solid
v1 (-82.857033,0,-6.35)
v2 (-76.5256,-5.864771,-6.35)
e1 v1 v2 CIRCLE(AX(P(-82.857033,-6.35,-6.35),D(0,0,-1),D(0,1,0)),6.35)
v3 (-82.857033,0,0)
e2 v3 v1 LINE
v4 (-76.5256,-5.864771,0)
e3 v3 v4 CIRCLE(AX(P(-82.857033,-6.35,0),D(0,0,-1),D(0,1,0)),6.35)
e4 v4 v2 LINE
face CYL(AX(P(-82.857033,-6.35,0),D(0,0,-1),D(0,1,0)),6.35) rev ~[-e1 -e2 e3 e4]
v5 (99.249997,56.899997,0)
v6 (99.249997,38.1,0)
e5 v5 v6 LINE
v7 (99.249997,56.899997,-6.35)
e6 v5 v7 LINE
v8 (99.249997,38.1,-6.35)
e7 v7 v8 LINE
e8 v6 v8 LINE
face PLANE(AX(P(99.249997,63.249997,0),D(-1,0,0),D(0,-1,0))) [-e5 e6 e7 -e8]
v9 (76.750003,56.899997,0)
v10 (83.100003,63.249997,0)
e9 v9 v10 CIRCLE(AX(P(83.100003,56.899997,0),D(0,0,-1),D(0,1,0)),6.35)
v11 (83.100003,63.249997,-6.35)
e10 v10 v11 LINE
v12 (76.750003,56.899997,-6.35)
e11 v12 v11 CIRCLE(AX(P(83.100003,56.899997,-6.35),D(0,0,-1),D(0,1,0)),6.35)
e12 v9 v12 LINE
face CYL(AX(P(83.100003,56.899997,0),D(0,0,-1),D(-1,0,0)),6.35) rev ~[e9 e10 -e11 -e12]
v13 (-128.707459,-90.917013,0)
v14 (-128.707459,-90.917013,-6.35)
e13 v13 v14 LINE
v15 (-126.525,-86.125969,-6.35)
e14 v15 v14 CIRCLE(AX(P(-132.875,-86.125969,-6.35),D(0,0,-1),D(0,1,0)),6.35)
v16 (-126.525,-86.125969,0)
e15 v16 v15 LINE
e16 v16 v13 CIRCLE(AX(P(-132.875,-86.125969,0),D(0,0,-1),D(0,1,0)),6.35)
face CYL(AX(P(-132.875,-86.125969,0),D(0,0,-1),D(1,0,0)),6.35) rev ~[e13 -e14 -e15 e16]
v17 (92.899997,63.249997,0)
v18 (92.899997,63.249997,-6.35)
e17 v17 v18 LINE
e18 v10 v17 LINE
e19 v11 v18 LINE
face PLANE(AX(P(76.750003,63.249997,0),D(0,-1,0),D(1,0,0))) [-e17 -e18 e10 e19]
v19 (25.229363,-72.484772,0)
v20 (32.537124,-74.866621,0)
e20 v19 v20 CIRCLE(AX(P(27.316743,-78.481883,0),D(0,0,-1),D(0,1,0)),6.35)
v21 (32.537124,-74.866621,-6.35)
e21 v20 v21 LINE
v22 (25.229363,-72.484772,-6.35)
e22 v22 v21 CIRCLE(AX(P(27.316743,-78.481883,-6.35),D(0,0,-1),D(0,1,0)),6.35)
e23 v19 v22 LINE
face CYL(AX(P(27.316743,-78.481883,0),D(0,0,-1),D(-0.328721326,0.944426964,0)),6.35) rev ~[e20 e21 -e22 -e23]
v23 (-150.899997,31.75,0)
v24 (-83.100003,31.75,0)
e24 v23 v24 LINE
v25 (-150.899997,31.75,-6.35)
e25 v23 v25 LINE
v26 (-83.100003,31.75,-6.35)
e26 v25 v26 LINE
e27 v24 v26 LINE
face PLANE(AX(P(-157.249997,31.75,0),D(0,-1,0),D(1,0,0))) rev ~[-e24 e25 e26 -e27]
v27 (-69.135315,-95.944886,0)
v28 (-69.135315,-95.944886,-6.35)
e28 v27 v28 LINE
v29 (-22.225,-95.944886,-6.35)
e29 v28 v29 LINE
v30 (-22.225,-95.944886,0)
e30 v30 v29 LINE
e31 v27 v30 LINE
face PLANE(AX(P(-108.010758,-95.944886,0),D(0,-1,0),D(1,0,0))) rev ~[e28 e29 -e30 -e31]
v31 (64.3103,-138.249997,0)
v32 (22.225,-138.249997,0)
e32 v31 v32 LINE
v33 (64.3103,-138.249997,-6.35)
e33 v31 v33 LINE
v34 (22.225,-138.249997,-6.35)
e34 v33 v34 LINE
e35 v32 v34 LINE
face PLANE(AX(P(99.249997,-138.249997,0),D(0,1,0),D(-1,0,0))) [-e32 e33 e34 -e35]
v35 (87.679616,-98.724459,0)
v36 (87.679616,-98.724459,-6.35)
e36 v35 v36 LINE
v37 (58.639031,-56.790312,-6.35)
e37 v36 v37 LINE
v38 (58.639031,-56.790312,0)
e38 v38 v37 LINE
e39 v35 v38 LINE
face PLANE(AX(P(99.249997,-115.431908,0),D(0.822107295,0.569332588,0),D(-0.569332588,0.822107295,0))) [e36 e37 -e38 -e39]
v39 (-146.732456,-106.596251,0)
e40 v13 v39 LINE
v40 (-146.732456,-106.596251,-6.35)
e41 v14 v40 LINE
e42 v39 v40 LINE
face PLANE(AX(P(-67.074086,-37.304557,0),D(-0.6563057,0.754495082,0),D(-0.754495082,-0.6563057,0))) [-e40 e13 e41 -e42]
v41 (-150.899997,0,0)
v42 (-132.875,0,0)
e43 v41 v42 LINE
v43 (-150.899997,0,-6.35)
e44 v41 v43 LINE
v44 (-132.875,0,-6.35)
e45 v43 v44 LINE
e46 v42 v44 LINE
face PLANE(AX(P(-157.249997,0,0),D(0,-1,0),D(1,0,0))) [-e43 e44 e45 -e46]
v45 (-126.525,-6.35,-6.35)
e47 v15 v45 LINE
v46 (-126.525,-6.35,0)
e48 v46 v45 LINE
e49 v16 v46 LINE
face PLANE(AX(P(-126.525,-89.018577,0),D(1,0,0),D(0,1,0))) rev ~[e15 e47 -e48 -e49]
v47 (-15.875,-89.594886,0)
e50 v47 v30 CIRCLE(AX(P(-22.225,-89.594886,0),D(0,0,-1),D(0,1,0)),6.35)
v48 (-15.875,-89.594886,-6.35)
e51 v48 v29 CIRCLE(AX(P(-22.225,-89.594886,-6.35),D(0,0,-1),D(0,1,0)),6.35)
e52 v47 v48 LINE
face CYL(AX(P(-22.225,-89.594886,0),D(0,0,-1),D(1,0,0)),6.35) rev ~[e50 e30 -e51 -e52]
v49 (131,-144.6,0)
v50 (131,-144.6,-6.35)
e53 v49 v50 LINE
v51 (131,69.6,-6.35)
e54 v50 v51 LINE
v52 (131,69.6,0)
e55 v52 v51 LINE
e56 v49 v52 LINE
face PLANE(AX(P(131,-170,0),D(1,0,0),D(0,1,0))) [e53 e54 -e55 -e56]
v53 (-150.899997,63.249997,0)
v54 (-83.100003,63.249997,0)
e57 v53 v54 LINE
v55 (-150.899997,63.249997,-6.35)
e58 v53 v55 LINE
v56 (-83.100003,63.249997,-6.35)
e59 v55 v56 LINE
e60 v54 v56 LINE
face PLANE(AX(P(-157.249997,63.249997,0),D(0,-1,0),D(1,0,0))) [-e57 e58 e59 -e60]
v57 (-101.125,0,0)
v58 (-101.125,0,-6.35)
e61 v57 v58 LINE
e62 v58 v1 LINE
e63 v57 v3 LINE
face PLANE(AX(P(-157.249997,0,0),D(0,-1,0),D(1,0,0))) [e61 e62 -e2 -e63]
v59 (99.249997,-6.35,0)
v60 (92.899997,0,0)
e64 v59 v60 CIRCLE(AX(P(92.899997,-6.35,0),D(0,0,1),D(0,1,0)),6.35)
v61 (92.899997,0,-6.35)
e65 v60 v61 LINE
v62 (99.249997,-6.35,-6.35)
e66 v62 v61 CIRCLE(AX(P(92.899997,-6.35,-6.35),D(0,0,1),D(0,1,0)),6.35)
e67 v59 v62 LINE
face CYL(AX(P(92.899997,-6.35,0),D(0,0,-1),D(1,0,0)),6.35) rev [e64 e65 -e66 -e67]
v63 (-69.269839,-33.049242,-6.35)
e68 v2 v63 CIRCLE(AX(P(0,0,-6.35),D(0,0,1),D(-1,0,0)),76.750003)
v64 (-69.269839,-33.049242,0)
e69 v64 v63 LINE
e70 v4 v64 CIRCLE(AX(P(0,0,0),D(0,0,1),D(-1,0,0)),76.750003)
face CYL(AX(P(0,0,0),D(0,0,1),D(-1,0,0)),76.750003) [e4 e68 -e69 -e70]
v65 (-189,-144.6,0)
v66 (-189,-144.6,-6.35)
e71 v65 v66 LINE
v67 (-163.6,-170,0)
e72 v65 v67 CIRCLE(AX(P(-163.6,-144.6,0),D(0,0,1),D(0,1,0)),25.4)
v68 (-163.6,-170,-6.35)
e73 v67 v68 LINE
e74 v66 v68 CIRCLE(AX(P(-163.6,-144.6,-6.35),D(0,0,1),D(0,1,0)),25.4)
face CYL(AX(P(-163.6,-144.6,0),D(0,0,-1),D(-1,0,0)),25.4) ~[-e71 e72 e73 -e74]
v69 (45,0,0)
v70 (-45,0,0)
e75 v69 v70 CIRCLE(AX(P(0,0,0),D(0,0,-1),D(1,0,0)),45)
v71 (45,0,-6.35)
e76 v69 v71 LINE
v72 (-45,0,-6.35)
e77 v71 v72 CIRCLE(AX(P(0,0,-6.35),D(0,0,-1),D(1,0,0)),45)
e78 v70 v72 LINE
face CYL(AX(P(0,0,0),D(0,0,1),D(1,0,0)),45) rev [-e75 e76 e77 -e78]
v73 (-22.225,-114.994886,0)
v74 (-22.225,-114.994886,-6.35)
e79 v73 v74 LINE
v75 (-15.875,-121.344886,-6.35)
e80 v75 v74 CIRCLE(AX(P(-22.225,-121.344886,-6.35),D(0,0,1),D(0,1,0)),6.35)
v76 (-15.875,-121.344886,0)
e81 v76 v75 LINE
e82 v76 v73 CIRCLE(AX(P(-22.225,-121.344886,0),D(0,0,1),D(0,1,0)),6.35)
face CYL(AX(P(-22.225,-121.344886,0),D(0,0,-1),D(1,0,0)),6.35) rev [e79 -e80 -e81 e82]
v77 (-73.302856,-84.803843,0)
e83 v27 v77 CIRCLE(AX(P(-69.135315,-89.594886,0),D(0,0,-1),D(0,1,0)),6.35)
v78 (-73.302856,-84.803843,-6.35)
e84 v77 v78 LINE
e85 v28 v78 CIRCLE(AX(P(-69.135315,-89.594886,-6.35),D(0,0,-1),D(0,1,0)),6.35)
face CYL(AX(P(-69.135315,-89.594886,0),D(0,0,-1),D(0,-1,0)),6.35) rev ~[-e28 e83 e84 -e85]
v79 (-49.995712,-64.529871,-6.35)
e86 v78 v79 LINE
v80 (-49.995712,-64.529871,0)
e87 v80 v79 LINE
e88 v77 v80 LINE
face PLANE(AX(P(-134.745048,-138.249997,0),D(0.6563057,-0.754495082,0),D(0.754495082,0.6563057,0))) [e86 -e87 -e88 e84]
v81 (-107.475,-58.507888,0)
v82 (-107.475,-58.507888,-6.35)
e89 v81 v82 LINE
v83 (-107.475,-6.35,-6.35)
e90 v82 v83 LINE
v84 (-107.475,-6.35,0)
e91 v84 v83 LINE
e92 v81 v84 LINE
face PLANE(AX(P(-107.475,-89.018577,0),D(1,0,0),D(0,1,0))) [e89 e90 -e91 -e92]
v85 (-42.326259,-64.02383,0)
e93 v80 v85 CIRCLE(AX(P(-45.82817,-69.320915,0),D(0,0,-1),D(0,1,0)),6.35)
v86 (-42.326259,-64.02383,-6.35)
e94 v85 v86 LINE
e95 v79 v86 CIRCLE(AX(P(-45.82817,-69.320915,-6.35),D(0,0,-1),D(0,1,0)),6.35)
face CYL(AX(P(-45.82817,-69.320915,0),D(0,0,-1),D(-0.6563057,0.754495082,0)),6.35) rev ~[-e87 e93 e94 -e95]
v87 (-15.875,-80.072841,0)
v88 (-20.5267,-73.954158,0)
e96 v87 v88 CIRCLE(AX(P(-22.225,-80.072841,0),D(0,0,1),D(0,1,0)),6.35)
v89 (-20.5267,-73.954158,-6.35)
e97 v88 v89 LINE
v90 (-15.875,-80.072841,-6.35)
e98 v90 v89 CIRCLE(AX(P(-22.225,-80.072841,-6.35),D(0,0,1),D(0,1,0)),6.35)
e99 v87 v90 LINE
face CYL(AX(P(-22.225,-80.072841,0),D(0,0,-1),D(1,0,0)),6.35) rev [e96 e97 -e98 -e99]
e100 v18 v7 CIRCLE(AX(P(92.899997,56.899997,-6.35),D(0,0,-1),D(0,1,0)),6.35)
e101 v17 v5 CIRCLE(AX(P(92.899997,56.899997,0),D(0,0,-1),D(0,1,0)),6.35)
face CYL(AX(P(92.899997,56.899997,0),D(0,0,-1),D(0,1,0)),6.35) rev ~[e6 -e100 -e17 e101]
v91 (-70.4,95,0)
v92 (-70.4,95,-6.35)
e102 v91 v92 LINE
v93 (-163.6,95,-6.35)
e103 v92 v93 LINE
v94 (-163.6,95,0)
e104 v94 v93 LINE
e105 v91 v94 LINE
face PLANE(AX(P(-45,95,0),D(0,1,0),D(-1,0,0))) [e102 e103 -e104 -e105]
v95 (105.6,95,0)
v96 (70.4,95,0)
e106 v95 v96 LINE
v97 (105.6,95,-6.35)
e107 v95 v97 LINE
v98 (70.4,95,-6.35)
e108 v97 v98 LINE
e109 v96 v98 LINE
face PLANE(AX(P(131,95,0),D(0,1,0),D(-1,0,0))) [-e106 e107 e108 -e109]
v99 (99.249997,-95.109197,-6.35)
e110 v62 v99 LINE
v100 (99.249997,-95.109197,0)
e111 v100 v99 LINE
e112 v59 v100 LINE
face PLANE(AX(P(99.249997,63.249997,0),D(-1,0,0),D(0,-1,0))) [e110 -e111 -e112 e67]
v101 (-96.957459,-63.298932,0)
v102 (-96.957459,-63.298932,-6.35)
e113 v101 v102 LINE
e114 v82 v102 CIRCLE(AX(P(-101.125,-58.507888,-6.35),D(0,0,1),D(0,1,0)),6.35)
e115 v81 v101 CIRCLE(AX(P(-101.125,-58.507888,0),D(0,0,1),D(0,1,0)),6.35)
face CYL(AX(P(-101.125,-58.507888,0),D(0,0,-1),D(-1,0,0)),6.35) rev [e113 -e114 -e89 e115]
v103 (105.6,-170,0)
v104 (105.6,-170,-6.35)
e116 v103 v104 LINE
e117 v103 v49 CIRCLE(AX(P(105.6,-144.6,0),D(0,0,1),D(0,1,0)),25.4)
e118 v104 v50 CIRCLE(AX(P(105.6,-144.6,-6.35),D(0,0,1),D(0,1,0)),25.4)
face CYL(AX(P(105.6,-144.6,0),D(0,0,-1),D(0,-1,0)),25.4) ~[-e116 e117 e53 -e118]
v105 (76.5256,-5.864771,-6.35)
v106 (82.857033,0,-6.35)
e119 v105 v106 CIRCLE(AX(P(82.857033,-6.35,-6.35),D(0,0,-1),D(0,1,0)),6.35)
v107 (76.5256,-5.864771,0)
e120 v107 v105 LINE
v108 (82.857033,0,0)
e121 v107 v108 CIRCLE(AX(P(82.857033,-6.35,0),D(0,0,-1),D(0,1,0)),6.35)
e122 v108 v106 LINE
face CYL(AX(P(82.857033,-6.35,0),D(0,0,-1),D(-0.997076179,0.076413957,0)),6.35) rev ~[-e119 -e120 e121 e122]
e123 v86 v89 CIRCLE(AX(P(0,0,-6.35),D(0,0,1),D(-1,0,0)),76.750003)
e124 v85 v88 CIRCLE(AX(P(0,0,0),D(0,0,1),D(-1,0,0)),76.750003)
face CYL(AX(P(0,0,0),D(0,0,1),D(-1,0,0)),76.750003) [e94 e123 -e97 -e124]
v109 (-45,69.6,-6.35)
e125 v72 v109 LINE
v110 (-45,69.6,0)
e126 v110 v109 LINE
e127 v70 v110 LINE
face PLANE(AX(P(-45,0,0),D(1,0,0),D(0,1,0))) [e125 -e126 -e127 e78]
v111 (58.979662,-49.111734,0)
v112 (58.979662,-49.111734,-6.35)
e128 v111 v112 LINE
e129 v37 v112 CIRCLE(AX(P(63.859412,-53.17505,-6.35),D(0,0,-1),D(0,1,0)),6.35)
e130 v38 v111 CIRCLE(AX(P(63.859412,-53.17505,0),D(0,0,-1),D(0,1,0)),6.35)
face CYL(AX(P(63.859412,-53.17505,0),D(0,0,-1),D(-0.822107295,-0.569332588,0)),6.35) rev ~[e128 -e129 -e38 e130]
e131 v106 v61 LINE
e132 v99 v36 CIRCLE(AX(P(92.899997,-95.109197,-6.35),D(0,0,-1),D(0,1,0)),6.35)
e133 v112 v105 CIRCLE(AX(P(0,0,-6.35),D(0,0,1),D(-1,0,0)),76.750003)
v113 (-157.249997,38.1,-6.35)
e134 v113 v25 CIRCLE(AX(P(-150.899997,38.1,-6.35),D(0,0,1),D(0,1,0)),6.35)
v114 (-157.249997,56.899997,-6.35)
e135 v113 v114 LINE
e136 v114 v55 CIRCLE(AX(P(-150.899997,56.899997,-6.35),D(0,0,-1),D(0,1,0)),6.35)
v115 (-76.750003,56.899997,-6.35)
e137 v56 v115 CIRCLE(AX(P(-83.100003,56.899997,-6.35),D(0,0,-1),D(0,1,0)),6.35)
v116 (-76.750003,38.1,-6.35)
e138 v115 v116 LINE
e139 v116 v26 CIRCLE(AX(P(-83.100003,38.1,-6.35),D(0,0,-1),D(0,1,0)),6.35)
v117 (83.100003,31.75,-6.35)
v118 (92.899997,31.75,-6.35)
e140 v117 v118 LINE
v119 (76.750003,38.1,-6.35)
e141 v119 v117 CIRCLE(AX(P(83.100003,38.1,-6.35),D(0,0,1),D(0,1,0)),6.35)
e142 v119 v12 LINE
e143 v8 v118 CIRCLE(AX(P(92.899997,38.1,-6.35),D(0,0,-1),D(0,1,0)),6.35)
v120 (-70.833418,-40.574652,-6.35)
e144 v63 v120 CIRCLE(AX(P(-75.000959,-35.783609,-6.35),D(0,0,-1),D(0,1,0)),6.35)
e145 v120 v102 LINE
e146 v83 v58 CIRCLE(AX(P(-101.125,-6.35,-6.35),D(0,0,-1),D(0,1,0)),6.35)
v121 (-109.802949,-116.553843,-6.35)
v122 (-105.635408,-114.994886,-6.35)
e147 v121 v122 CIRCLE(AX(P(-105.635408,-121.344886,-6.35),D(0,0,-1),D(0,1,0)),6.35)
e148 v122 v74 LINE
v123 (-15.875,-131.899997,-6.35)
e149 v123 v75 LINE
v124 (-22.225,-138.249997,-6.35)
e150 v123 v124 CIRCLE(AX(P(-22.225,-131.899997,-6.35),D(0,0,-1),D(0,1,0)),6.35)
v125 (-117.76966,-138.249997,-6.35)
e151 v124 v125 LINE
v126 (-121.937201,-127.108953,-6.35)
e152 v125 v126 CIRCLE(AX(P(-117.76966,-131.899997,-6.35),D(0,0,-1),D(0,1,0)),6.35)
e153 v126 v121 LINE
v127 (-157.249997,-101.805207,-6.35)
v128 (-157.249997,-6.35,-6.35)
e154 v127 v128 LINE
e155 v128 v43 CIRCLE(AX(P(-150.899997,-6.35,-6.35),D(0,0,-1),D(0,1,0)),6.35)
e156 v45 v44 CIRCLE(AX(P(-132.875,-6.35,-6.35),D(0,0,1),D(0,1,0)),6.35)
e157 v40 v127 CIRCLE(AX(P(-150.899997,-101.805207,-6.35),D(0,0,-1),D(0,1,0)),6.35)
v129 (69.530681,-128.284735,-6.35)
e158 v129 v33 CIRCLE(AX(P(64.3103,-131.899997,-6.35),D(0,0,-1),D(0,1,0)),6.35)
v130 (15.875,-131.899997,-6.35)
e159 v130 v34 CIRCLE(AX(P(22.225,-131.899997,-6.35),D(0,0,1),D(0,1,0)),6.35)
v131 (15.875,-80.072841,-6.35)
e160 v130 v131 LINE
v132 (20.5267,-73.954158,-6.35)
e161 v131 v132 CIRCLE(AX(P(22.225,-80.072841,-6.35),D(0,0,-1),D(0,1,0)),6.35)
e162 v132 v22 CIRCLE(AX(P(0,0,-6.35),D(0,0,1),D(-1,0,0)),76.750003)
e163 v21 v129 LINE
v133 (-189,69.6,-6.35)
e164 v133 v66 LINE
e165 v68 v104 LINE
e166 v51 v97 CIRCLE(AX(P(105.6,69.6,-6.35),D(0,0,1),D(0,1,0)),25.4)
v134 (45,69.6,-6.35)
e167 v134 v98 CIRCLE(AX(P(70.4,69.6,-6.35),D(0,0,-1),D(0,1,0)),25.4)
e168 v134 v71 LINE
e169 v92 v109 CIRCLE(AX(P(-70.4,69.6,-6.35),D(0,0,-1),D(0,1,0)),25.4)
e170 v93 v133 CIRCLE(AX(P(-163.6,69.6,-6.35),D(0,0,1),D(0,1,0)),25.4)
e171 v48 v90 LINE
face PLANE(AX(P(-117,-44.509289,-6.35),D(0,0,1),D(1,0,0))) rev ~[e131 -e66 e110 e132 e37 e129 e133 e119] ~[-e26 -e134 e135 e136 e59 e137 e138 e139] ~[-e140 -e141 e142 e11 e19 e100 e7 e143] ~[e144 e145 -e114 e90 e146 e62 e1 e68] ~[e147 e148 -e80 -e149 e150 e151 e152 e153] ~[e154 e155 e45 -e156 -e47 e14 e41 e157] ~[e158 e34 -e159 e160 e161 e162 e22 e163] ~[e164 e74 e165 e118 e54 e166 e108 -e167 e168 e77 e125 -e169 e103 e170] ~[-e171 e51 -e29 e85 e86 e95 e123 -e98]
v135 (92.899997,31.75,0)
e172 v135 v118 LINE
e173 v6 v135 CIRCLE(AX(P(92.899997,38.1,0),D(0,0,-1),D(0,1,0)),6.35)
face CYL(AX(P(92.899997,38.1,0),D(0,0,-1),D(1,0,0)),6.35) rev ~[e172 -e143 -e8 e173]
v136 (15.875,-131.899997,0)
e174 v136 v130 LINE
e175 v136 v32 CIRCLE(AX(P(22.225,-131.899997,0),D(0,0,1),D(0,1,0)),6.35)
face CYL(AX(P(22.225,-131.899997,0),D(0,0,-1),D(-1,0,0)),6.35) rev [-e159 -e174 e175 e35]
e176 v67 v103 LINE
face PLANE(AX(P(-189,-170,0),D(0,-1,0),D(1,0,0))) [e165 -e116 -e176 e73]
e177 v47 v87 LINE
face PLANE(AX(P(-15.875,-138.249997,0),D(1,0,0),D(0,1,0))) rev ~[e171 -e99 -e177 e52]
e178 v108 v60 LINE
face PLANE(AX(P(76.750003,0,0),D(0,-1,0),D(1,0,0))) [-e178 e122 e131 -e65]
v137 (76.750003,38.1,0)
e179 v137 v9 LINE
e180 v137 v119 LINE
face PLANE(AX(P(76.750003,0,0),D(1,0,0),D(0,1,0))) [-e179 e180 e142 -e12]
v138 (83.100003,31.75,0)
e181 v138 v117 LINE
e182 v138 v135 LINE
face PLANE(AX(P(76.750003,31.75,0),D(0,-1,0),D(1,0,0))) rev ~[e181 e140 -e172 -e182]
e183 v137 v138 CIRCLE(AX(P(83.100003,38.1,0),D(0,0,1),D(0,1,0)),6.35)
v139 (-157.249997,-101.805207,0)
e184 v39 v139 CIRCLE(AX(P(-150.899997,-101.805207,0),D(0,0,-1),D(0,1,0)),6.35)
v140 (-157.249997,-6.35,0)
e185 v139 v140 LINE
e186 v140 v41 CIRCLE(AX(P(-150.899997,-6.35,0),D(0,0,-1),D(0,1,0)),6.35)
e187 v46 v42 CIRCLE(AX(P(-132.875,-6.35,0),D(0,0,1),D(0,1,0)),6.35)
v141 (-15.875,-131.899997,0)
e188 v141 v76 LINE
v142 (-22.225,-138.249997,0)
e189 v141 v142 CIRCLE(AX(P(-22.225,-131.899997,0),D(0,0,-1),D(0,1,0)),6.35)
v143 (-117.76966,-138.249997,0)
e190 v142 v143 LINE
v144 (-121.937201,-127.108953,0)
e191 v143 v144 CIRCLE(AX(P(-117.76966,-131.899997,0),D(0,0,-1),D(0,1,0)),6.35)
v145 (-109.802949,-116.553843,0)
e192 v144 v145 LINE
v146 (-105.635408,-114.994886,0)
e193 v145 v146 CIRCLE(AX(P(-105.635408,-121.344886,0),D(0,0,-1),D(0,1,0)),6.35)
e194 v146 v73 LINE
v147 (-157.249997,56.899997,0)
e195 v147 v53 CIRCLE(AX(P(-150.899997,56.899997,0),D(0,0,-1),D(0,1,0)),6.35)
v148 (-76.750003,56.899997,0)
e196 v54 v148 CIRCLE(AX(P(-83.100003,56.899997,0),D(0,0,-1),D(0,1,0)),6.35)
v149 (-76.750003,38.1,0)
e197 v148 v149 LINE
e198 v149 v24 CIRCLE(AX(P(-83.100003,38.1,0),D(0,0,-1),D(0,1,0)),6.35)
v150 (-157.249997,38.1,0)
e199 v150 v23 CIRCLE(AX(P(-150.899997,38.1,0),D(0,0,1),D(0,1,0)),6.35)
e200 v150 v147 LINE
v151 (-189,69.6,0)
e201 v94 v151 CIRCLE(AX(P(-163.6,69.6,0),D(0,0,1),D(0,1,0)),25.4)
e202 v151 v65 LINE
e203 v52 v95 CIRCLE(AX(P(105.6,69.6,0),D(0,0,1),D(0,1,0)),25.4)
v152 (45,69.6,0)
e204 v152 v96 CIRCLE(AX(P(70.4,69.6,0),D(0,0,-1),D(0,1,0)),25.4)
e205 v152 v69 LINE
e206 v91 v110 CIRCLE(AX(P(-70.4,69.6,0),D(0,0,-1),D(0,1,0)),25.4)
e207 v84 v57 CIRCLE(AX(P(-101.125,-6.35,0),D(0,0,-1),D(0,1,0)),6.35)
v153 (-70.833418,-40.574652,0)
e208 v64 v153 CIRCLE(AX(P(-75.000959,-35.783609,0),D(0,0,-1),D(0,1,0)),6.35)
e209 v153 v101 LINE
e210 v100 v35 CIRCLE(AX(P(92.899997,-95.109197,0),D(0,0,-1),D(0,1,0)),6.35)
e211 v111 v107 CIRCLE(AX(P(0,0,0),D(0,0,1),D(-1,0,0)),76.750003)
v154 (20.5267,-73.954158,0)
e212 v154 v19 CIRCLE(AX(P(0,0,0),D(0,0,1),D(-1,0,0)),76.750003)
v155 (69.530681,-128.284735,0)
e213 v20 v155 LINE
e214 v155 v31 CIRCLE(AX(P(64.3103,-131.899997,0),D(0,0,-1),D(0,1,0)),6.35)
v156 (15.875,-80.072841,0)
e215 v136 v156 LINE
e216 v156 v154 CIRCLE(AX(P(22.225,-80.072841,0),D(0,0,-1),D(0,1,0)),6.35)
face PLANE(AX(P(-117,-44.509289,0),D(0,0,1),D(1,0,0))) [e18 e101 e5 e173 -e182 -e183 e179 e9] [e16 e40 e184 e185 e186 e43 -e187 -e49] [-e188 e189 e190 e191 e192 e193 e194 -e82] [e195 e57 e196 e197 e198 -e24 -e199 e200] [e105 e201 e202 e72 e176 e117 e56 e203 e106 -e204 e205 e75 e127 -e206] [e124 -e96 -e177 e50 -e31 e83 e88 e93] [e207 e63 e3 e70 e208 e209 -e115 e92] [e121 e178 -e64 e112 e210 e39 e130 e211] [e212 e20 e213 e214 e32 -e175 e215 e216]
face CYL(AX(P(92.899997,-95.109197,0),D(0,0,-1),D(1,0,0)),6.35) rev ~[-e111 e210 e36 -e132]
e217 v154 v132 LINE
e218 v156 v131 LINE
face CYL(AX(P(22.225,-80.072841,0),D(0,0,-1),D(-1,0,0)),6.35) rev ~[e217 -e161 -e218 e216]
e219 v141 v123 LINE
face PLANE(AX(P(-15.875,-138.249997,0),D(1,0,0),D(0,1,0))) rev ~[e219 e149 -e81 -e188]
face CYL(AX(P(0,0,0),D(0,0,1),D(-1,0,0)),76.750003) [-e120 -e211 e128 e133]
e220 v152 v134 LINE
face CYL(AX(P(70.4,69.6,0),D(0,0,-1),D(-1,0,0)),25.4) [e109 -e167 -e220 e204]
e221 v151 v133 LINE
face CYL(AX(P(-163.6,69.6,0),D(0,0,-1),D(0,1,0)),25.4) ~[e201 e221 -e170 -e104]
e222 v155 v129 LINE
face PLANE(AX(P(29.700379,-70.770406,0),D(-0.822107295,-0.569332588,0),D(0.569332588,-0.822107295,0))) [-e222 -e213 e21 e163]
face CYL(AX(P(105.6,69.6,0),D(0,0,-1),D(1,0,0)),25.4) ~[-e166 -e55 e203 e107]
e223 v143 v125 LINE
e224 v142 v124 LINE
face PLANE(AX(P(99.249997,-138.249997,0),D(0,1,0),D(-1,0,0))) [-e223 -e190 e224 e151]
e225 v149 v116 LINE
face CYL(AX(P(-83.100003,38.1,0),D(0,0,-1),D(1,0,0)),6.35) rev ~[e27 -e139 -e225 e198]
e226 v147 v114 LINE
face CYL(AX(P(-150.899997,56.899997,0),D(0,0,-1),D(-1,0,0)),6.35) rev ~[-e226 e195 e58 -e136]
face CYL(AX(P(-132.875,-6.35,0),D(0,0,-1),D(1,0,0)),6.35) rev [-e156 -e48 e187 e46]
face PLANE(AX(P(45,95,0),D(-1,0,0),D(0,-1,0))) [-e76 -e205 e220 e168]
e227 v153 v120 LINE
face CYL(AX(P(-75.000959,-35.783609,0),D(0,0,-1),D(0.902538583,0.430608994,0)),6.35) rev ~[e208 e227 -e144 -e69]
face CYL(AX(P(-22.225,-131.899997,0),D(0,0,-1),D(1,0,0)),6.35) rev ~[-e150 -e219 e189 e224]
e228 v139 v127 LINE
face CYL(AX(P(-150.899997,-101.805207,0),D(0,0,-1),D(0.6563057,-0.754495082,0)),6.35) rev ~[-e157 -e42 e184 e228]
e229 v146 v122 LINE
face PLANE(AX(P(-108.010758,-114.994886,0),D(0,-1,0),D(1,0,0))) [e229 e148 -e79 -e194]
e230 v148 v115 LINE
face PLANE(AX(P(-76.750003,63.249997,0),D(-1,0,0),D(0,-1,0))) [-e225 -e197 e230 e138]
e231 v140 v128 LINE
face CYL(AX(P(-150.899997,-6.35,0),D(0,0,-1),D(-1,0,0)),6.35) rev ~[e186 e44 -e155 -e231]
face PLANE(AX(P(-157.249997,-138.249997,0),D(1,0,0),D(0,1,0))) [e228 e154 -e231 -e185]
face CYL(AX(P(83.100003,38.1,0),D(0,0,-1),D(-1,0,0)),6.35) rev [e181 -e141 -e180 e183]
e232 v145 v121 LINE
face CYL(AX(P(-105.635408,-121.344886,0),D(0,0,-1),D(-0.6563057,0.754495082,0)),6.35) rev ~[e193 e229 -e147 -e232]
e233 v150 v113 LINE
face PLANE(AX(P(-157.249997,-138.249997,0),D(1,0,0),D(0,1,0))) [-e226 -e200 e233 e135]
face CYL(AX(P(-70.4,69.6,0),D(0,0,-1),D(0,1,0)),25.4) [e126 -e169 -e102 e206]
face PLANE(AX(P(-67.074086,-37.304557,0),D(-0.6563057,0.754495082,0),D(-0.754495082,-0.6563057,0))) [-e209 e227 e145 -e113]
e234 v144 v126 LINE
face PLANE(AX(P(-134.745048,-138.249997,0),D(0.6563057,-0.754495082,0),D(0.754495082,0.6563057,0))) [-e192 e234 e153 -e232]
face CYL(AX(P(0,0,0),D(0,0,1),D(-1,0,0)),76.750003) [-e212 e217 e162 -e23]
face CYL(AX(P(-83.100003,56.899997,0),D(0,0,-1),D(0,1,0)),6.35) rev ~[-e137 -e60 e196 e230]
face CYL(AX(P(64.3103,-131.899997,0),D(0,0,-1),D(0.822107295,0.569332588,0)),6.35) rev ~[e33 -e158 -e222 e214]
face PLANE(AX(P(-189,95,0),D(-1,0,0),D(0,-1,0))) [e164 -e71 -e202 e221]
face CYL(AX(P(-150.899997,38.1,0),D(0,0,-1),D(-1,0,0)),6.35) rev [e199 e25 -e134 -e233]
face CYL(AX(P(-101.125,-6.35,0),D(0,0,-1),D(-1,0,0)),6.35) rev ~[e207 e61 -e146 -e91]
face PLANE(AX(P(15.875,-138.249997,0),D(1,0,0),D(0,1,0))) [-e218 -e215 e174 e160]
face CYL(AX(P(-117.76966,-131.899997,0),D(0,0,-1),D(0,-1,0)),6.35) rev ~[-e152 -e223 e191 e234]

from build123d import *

# Parameters (mm, degrees)
F1_DEPTH = 6.35
F2_W     = 31.75
F2_H     = 63.1597361455
F2_W_2   = 80.4999943972
F2_H_2   = 31.75
F2_W_3   = 22.4999943972
F3_DEPTH = 6.35
F4_W     = 19.05
F4_H     = 89.0185771326
F4_W_2   = 92.1357582898
F4_H_2   = 19.05
F5_DEPTH = 6.35
F6_R     = 25.4
F7_R     = 6.35


with BuildPart() as f1:
    # F0 (on Top) → F1 (new body)
    with BuildSketch(Plane.XY):
        with BuildLine():
            Line((-45, 95), (-189, 95))
            Line((-189, 95), (-189, -170))
            Line((-189, -170), (131, -170))
            Line((131, -170), (131, 95))
            Line((131, 95), (45, 95))
            Line((45, 95), (45, 0))
            ThreePointArc((45, 0), (0, -45), (-45, 0))
            Line((-45, 0), (-45, 95))
        make_face()
        with BuildLine():
            Line((-76.7500028014, 63.2499971986), (-76.7500028014, 0))
            ThreePointArc((-76.7500028014, 0), (0, -76.7500028014), (76.7500028014, 0))
            Line((76.7500028014, 0), (76.7500028014, 63.2499971986))
            Line((76.7500028014, 63.2499971986), (99.2499971986, 63.2499971986))
            Line((99.2499971986, 63.2499971986), (99.2499971986, -138.2499971986))
            Line((99.2499971986, -138.2499971986), (-157.2499971986, -138.2499971986))
            Line((-157.2499971986, -138.2499971986), (-157.2499971986, 63.2499971986))
            Line((-157.2499971986, 63.2499971986), (-76.7500028014, 63.2499971986))
        make_face(mode=Mode.SUBTRACT)
    extrude(amount=-F1_DEPTH)

    # F2 (on face) → F3 (join)
    with BuildSketch(Plane.XY):
        with Locations((0, -106.6701291258)):
            Rectangle(F2_W, F2_H)
        with Locations((-117, 15.875)):
            Rectangle(F2_W_2, F2_H_2)
        with Locations((88, 15.875)):
            Rectangle(F2_W_3, F2_H_2)
        Polygon((-46.2363796826, -61.2597757412), (-67.0740856459, -37.3045568904), (-157.2499971986, -115.7450479419), (-157.2499971986, -138.2499971986), (-134.7450479419, -138.2499971986), align=None)
        Polygon((55.8022859826, -52.6940965302), (29.7003793774, -70.7704062081), (76.4319075424, -138.2499971986), (99.2499971986, -138.2499971986), (99.2499971986, -115.4319075424), align=None)
    extrude(amount=-F3_DEPTH)

    # F4 (on face) → F5 (join)
    with BuildSketch(Plane.XY):
        with Locations((-117, -44.5092885663)):
            Rectangle(F4_W, F4_H)
        with Locations((-61.9428791449, -105.4698864699)):
            Rectangle(F4_W_2, F4_H_2)
    extrude(amount=-F5_DEPTH)

    # F6
    f6_edges = [f1.edges().sort_by_distance(p)[0] for p in [
        (-189, 95, -3.175),
        (-189, -170, -3.175),
        (131, -170, -3.175),
        (131, 95, -3.175),
        (45, 95, -3.175),
        (-45, 95, -3.175),
    ]]
    fillet(f6_edges, radius=F6_R)

    # F7
    f7_edges = [f1.edges().sort_by_distance(p)[0] for p in [
        (76.750003, 63.249997, -3.175),
        (99.249997, 63.249997, -3.175),
        (76.750003, 31.75, -3.175),
        (99.249997, 31.75, -3.175),
        (55.802286, -52.694097, -3.175),
        (-157.249997, 31.75, -3.175),
        (-134.745048, -138.249997, -3.175),
        (-86.110703, -95.944886, -3.175),
        (15.875, -138.249997, -3.175),
        (-157.249997, 0, -3.175),
        (-157.249997, 63.249997, -3.175),
        (-107.475, 0, -3.175),
        (-46.23638, -61.259776, -3.175),
        (-108.010758, -114.994886, -3.175),
        (15.875, -75.090261, -3.175),
        (76.750003, 0, -3.175),
        (-76.750003, 31.75, -3.175),
        (-67.074086, -37.304557, -3.175),
        (-15.875, -95.944886, -3.175),
        (76.431908, -138.249997, -3.175),
        (-15.875, -138.249997, -3.175),
        (-126.525, -89.018577, -3.175),
        (-107.475, -72.447729, -3.175),
        (-157.249997, -115.745048, -3.175),
        (99.249997, 0, -3.175),
        (-15.875, -75.090261, -3.175),
        (-15.875, -114.994886, -3.175),
        (-76.750003, 0, -3.175),
        (-76.750003, 63.249997, -3.175),
        (29.700379, -70.770406, -3.175),
        (-126.525, 0, -3.175),
        (99.249997, -115.431908, -3.175),
    ]]
    fillet(f7_edges, radius=F7_R)


solid = f1.part
